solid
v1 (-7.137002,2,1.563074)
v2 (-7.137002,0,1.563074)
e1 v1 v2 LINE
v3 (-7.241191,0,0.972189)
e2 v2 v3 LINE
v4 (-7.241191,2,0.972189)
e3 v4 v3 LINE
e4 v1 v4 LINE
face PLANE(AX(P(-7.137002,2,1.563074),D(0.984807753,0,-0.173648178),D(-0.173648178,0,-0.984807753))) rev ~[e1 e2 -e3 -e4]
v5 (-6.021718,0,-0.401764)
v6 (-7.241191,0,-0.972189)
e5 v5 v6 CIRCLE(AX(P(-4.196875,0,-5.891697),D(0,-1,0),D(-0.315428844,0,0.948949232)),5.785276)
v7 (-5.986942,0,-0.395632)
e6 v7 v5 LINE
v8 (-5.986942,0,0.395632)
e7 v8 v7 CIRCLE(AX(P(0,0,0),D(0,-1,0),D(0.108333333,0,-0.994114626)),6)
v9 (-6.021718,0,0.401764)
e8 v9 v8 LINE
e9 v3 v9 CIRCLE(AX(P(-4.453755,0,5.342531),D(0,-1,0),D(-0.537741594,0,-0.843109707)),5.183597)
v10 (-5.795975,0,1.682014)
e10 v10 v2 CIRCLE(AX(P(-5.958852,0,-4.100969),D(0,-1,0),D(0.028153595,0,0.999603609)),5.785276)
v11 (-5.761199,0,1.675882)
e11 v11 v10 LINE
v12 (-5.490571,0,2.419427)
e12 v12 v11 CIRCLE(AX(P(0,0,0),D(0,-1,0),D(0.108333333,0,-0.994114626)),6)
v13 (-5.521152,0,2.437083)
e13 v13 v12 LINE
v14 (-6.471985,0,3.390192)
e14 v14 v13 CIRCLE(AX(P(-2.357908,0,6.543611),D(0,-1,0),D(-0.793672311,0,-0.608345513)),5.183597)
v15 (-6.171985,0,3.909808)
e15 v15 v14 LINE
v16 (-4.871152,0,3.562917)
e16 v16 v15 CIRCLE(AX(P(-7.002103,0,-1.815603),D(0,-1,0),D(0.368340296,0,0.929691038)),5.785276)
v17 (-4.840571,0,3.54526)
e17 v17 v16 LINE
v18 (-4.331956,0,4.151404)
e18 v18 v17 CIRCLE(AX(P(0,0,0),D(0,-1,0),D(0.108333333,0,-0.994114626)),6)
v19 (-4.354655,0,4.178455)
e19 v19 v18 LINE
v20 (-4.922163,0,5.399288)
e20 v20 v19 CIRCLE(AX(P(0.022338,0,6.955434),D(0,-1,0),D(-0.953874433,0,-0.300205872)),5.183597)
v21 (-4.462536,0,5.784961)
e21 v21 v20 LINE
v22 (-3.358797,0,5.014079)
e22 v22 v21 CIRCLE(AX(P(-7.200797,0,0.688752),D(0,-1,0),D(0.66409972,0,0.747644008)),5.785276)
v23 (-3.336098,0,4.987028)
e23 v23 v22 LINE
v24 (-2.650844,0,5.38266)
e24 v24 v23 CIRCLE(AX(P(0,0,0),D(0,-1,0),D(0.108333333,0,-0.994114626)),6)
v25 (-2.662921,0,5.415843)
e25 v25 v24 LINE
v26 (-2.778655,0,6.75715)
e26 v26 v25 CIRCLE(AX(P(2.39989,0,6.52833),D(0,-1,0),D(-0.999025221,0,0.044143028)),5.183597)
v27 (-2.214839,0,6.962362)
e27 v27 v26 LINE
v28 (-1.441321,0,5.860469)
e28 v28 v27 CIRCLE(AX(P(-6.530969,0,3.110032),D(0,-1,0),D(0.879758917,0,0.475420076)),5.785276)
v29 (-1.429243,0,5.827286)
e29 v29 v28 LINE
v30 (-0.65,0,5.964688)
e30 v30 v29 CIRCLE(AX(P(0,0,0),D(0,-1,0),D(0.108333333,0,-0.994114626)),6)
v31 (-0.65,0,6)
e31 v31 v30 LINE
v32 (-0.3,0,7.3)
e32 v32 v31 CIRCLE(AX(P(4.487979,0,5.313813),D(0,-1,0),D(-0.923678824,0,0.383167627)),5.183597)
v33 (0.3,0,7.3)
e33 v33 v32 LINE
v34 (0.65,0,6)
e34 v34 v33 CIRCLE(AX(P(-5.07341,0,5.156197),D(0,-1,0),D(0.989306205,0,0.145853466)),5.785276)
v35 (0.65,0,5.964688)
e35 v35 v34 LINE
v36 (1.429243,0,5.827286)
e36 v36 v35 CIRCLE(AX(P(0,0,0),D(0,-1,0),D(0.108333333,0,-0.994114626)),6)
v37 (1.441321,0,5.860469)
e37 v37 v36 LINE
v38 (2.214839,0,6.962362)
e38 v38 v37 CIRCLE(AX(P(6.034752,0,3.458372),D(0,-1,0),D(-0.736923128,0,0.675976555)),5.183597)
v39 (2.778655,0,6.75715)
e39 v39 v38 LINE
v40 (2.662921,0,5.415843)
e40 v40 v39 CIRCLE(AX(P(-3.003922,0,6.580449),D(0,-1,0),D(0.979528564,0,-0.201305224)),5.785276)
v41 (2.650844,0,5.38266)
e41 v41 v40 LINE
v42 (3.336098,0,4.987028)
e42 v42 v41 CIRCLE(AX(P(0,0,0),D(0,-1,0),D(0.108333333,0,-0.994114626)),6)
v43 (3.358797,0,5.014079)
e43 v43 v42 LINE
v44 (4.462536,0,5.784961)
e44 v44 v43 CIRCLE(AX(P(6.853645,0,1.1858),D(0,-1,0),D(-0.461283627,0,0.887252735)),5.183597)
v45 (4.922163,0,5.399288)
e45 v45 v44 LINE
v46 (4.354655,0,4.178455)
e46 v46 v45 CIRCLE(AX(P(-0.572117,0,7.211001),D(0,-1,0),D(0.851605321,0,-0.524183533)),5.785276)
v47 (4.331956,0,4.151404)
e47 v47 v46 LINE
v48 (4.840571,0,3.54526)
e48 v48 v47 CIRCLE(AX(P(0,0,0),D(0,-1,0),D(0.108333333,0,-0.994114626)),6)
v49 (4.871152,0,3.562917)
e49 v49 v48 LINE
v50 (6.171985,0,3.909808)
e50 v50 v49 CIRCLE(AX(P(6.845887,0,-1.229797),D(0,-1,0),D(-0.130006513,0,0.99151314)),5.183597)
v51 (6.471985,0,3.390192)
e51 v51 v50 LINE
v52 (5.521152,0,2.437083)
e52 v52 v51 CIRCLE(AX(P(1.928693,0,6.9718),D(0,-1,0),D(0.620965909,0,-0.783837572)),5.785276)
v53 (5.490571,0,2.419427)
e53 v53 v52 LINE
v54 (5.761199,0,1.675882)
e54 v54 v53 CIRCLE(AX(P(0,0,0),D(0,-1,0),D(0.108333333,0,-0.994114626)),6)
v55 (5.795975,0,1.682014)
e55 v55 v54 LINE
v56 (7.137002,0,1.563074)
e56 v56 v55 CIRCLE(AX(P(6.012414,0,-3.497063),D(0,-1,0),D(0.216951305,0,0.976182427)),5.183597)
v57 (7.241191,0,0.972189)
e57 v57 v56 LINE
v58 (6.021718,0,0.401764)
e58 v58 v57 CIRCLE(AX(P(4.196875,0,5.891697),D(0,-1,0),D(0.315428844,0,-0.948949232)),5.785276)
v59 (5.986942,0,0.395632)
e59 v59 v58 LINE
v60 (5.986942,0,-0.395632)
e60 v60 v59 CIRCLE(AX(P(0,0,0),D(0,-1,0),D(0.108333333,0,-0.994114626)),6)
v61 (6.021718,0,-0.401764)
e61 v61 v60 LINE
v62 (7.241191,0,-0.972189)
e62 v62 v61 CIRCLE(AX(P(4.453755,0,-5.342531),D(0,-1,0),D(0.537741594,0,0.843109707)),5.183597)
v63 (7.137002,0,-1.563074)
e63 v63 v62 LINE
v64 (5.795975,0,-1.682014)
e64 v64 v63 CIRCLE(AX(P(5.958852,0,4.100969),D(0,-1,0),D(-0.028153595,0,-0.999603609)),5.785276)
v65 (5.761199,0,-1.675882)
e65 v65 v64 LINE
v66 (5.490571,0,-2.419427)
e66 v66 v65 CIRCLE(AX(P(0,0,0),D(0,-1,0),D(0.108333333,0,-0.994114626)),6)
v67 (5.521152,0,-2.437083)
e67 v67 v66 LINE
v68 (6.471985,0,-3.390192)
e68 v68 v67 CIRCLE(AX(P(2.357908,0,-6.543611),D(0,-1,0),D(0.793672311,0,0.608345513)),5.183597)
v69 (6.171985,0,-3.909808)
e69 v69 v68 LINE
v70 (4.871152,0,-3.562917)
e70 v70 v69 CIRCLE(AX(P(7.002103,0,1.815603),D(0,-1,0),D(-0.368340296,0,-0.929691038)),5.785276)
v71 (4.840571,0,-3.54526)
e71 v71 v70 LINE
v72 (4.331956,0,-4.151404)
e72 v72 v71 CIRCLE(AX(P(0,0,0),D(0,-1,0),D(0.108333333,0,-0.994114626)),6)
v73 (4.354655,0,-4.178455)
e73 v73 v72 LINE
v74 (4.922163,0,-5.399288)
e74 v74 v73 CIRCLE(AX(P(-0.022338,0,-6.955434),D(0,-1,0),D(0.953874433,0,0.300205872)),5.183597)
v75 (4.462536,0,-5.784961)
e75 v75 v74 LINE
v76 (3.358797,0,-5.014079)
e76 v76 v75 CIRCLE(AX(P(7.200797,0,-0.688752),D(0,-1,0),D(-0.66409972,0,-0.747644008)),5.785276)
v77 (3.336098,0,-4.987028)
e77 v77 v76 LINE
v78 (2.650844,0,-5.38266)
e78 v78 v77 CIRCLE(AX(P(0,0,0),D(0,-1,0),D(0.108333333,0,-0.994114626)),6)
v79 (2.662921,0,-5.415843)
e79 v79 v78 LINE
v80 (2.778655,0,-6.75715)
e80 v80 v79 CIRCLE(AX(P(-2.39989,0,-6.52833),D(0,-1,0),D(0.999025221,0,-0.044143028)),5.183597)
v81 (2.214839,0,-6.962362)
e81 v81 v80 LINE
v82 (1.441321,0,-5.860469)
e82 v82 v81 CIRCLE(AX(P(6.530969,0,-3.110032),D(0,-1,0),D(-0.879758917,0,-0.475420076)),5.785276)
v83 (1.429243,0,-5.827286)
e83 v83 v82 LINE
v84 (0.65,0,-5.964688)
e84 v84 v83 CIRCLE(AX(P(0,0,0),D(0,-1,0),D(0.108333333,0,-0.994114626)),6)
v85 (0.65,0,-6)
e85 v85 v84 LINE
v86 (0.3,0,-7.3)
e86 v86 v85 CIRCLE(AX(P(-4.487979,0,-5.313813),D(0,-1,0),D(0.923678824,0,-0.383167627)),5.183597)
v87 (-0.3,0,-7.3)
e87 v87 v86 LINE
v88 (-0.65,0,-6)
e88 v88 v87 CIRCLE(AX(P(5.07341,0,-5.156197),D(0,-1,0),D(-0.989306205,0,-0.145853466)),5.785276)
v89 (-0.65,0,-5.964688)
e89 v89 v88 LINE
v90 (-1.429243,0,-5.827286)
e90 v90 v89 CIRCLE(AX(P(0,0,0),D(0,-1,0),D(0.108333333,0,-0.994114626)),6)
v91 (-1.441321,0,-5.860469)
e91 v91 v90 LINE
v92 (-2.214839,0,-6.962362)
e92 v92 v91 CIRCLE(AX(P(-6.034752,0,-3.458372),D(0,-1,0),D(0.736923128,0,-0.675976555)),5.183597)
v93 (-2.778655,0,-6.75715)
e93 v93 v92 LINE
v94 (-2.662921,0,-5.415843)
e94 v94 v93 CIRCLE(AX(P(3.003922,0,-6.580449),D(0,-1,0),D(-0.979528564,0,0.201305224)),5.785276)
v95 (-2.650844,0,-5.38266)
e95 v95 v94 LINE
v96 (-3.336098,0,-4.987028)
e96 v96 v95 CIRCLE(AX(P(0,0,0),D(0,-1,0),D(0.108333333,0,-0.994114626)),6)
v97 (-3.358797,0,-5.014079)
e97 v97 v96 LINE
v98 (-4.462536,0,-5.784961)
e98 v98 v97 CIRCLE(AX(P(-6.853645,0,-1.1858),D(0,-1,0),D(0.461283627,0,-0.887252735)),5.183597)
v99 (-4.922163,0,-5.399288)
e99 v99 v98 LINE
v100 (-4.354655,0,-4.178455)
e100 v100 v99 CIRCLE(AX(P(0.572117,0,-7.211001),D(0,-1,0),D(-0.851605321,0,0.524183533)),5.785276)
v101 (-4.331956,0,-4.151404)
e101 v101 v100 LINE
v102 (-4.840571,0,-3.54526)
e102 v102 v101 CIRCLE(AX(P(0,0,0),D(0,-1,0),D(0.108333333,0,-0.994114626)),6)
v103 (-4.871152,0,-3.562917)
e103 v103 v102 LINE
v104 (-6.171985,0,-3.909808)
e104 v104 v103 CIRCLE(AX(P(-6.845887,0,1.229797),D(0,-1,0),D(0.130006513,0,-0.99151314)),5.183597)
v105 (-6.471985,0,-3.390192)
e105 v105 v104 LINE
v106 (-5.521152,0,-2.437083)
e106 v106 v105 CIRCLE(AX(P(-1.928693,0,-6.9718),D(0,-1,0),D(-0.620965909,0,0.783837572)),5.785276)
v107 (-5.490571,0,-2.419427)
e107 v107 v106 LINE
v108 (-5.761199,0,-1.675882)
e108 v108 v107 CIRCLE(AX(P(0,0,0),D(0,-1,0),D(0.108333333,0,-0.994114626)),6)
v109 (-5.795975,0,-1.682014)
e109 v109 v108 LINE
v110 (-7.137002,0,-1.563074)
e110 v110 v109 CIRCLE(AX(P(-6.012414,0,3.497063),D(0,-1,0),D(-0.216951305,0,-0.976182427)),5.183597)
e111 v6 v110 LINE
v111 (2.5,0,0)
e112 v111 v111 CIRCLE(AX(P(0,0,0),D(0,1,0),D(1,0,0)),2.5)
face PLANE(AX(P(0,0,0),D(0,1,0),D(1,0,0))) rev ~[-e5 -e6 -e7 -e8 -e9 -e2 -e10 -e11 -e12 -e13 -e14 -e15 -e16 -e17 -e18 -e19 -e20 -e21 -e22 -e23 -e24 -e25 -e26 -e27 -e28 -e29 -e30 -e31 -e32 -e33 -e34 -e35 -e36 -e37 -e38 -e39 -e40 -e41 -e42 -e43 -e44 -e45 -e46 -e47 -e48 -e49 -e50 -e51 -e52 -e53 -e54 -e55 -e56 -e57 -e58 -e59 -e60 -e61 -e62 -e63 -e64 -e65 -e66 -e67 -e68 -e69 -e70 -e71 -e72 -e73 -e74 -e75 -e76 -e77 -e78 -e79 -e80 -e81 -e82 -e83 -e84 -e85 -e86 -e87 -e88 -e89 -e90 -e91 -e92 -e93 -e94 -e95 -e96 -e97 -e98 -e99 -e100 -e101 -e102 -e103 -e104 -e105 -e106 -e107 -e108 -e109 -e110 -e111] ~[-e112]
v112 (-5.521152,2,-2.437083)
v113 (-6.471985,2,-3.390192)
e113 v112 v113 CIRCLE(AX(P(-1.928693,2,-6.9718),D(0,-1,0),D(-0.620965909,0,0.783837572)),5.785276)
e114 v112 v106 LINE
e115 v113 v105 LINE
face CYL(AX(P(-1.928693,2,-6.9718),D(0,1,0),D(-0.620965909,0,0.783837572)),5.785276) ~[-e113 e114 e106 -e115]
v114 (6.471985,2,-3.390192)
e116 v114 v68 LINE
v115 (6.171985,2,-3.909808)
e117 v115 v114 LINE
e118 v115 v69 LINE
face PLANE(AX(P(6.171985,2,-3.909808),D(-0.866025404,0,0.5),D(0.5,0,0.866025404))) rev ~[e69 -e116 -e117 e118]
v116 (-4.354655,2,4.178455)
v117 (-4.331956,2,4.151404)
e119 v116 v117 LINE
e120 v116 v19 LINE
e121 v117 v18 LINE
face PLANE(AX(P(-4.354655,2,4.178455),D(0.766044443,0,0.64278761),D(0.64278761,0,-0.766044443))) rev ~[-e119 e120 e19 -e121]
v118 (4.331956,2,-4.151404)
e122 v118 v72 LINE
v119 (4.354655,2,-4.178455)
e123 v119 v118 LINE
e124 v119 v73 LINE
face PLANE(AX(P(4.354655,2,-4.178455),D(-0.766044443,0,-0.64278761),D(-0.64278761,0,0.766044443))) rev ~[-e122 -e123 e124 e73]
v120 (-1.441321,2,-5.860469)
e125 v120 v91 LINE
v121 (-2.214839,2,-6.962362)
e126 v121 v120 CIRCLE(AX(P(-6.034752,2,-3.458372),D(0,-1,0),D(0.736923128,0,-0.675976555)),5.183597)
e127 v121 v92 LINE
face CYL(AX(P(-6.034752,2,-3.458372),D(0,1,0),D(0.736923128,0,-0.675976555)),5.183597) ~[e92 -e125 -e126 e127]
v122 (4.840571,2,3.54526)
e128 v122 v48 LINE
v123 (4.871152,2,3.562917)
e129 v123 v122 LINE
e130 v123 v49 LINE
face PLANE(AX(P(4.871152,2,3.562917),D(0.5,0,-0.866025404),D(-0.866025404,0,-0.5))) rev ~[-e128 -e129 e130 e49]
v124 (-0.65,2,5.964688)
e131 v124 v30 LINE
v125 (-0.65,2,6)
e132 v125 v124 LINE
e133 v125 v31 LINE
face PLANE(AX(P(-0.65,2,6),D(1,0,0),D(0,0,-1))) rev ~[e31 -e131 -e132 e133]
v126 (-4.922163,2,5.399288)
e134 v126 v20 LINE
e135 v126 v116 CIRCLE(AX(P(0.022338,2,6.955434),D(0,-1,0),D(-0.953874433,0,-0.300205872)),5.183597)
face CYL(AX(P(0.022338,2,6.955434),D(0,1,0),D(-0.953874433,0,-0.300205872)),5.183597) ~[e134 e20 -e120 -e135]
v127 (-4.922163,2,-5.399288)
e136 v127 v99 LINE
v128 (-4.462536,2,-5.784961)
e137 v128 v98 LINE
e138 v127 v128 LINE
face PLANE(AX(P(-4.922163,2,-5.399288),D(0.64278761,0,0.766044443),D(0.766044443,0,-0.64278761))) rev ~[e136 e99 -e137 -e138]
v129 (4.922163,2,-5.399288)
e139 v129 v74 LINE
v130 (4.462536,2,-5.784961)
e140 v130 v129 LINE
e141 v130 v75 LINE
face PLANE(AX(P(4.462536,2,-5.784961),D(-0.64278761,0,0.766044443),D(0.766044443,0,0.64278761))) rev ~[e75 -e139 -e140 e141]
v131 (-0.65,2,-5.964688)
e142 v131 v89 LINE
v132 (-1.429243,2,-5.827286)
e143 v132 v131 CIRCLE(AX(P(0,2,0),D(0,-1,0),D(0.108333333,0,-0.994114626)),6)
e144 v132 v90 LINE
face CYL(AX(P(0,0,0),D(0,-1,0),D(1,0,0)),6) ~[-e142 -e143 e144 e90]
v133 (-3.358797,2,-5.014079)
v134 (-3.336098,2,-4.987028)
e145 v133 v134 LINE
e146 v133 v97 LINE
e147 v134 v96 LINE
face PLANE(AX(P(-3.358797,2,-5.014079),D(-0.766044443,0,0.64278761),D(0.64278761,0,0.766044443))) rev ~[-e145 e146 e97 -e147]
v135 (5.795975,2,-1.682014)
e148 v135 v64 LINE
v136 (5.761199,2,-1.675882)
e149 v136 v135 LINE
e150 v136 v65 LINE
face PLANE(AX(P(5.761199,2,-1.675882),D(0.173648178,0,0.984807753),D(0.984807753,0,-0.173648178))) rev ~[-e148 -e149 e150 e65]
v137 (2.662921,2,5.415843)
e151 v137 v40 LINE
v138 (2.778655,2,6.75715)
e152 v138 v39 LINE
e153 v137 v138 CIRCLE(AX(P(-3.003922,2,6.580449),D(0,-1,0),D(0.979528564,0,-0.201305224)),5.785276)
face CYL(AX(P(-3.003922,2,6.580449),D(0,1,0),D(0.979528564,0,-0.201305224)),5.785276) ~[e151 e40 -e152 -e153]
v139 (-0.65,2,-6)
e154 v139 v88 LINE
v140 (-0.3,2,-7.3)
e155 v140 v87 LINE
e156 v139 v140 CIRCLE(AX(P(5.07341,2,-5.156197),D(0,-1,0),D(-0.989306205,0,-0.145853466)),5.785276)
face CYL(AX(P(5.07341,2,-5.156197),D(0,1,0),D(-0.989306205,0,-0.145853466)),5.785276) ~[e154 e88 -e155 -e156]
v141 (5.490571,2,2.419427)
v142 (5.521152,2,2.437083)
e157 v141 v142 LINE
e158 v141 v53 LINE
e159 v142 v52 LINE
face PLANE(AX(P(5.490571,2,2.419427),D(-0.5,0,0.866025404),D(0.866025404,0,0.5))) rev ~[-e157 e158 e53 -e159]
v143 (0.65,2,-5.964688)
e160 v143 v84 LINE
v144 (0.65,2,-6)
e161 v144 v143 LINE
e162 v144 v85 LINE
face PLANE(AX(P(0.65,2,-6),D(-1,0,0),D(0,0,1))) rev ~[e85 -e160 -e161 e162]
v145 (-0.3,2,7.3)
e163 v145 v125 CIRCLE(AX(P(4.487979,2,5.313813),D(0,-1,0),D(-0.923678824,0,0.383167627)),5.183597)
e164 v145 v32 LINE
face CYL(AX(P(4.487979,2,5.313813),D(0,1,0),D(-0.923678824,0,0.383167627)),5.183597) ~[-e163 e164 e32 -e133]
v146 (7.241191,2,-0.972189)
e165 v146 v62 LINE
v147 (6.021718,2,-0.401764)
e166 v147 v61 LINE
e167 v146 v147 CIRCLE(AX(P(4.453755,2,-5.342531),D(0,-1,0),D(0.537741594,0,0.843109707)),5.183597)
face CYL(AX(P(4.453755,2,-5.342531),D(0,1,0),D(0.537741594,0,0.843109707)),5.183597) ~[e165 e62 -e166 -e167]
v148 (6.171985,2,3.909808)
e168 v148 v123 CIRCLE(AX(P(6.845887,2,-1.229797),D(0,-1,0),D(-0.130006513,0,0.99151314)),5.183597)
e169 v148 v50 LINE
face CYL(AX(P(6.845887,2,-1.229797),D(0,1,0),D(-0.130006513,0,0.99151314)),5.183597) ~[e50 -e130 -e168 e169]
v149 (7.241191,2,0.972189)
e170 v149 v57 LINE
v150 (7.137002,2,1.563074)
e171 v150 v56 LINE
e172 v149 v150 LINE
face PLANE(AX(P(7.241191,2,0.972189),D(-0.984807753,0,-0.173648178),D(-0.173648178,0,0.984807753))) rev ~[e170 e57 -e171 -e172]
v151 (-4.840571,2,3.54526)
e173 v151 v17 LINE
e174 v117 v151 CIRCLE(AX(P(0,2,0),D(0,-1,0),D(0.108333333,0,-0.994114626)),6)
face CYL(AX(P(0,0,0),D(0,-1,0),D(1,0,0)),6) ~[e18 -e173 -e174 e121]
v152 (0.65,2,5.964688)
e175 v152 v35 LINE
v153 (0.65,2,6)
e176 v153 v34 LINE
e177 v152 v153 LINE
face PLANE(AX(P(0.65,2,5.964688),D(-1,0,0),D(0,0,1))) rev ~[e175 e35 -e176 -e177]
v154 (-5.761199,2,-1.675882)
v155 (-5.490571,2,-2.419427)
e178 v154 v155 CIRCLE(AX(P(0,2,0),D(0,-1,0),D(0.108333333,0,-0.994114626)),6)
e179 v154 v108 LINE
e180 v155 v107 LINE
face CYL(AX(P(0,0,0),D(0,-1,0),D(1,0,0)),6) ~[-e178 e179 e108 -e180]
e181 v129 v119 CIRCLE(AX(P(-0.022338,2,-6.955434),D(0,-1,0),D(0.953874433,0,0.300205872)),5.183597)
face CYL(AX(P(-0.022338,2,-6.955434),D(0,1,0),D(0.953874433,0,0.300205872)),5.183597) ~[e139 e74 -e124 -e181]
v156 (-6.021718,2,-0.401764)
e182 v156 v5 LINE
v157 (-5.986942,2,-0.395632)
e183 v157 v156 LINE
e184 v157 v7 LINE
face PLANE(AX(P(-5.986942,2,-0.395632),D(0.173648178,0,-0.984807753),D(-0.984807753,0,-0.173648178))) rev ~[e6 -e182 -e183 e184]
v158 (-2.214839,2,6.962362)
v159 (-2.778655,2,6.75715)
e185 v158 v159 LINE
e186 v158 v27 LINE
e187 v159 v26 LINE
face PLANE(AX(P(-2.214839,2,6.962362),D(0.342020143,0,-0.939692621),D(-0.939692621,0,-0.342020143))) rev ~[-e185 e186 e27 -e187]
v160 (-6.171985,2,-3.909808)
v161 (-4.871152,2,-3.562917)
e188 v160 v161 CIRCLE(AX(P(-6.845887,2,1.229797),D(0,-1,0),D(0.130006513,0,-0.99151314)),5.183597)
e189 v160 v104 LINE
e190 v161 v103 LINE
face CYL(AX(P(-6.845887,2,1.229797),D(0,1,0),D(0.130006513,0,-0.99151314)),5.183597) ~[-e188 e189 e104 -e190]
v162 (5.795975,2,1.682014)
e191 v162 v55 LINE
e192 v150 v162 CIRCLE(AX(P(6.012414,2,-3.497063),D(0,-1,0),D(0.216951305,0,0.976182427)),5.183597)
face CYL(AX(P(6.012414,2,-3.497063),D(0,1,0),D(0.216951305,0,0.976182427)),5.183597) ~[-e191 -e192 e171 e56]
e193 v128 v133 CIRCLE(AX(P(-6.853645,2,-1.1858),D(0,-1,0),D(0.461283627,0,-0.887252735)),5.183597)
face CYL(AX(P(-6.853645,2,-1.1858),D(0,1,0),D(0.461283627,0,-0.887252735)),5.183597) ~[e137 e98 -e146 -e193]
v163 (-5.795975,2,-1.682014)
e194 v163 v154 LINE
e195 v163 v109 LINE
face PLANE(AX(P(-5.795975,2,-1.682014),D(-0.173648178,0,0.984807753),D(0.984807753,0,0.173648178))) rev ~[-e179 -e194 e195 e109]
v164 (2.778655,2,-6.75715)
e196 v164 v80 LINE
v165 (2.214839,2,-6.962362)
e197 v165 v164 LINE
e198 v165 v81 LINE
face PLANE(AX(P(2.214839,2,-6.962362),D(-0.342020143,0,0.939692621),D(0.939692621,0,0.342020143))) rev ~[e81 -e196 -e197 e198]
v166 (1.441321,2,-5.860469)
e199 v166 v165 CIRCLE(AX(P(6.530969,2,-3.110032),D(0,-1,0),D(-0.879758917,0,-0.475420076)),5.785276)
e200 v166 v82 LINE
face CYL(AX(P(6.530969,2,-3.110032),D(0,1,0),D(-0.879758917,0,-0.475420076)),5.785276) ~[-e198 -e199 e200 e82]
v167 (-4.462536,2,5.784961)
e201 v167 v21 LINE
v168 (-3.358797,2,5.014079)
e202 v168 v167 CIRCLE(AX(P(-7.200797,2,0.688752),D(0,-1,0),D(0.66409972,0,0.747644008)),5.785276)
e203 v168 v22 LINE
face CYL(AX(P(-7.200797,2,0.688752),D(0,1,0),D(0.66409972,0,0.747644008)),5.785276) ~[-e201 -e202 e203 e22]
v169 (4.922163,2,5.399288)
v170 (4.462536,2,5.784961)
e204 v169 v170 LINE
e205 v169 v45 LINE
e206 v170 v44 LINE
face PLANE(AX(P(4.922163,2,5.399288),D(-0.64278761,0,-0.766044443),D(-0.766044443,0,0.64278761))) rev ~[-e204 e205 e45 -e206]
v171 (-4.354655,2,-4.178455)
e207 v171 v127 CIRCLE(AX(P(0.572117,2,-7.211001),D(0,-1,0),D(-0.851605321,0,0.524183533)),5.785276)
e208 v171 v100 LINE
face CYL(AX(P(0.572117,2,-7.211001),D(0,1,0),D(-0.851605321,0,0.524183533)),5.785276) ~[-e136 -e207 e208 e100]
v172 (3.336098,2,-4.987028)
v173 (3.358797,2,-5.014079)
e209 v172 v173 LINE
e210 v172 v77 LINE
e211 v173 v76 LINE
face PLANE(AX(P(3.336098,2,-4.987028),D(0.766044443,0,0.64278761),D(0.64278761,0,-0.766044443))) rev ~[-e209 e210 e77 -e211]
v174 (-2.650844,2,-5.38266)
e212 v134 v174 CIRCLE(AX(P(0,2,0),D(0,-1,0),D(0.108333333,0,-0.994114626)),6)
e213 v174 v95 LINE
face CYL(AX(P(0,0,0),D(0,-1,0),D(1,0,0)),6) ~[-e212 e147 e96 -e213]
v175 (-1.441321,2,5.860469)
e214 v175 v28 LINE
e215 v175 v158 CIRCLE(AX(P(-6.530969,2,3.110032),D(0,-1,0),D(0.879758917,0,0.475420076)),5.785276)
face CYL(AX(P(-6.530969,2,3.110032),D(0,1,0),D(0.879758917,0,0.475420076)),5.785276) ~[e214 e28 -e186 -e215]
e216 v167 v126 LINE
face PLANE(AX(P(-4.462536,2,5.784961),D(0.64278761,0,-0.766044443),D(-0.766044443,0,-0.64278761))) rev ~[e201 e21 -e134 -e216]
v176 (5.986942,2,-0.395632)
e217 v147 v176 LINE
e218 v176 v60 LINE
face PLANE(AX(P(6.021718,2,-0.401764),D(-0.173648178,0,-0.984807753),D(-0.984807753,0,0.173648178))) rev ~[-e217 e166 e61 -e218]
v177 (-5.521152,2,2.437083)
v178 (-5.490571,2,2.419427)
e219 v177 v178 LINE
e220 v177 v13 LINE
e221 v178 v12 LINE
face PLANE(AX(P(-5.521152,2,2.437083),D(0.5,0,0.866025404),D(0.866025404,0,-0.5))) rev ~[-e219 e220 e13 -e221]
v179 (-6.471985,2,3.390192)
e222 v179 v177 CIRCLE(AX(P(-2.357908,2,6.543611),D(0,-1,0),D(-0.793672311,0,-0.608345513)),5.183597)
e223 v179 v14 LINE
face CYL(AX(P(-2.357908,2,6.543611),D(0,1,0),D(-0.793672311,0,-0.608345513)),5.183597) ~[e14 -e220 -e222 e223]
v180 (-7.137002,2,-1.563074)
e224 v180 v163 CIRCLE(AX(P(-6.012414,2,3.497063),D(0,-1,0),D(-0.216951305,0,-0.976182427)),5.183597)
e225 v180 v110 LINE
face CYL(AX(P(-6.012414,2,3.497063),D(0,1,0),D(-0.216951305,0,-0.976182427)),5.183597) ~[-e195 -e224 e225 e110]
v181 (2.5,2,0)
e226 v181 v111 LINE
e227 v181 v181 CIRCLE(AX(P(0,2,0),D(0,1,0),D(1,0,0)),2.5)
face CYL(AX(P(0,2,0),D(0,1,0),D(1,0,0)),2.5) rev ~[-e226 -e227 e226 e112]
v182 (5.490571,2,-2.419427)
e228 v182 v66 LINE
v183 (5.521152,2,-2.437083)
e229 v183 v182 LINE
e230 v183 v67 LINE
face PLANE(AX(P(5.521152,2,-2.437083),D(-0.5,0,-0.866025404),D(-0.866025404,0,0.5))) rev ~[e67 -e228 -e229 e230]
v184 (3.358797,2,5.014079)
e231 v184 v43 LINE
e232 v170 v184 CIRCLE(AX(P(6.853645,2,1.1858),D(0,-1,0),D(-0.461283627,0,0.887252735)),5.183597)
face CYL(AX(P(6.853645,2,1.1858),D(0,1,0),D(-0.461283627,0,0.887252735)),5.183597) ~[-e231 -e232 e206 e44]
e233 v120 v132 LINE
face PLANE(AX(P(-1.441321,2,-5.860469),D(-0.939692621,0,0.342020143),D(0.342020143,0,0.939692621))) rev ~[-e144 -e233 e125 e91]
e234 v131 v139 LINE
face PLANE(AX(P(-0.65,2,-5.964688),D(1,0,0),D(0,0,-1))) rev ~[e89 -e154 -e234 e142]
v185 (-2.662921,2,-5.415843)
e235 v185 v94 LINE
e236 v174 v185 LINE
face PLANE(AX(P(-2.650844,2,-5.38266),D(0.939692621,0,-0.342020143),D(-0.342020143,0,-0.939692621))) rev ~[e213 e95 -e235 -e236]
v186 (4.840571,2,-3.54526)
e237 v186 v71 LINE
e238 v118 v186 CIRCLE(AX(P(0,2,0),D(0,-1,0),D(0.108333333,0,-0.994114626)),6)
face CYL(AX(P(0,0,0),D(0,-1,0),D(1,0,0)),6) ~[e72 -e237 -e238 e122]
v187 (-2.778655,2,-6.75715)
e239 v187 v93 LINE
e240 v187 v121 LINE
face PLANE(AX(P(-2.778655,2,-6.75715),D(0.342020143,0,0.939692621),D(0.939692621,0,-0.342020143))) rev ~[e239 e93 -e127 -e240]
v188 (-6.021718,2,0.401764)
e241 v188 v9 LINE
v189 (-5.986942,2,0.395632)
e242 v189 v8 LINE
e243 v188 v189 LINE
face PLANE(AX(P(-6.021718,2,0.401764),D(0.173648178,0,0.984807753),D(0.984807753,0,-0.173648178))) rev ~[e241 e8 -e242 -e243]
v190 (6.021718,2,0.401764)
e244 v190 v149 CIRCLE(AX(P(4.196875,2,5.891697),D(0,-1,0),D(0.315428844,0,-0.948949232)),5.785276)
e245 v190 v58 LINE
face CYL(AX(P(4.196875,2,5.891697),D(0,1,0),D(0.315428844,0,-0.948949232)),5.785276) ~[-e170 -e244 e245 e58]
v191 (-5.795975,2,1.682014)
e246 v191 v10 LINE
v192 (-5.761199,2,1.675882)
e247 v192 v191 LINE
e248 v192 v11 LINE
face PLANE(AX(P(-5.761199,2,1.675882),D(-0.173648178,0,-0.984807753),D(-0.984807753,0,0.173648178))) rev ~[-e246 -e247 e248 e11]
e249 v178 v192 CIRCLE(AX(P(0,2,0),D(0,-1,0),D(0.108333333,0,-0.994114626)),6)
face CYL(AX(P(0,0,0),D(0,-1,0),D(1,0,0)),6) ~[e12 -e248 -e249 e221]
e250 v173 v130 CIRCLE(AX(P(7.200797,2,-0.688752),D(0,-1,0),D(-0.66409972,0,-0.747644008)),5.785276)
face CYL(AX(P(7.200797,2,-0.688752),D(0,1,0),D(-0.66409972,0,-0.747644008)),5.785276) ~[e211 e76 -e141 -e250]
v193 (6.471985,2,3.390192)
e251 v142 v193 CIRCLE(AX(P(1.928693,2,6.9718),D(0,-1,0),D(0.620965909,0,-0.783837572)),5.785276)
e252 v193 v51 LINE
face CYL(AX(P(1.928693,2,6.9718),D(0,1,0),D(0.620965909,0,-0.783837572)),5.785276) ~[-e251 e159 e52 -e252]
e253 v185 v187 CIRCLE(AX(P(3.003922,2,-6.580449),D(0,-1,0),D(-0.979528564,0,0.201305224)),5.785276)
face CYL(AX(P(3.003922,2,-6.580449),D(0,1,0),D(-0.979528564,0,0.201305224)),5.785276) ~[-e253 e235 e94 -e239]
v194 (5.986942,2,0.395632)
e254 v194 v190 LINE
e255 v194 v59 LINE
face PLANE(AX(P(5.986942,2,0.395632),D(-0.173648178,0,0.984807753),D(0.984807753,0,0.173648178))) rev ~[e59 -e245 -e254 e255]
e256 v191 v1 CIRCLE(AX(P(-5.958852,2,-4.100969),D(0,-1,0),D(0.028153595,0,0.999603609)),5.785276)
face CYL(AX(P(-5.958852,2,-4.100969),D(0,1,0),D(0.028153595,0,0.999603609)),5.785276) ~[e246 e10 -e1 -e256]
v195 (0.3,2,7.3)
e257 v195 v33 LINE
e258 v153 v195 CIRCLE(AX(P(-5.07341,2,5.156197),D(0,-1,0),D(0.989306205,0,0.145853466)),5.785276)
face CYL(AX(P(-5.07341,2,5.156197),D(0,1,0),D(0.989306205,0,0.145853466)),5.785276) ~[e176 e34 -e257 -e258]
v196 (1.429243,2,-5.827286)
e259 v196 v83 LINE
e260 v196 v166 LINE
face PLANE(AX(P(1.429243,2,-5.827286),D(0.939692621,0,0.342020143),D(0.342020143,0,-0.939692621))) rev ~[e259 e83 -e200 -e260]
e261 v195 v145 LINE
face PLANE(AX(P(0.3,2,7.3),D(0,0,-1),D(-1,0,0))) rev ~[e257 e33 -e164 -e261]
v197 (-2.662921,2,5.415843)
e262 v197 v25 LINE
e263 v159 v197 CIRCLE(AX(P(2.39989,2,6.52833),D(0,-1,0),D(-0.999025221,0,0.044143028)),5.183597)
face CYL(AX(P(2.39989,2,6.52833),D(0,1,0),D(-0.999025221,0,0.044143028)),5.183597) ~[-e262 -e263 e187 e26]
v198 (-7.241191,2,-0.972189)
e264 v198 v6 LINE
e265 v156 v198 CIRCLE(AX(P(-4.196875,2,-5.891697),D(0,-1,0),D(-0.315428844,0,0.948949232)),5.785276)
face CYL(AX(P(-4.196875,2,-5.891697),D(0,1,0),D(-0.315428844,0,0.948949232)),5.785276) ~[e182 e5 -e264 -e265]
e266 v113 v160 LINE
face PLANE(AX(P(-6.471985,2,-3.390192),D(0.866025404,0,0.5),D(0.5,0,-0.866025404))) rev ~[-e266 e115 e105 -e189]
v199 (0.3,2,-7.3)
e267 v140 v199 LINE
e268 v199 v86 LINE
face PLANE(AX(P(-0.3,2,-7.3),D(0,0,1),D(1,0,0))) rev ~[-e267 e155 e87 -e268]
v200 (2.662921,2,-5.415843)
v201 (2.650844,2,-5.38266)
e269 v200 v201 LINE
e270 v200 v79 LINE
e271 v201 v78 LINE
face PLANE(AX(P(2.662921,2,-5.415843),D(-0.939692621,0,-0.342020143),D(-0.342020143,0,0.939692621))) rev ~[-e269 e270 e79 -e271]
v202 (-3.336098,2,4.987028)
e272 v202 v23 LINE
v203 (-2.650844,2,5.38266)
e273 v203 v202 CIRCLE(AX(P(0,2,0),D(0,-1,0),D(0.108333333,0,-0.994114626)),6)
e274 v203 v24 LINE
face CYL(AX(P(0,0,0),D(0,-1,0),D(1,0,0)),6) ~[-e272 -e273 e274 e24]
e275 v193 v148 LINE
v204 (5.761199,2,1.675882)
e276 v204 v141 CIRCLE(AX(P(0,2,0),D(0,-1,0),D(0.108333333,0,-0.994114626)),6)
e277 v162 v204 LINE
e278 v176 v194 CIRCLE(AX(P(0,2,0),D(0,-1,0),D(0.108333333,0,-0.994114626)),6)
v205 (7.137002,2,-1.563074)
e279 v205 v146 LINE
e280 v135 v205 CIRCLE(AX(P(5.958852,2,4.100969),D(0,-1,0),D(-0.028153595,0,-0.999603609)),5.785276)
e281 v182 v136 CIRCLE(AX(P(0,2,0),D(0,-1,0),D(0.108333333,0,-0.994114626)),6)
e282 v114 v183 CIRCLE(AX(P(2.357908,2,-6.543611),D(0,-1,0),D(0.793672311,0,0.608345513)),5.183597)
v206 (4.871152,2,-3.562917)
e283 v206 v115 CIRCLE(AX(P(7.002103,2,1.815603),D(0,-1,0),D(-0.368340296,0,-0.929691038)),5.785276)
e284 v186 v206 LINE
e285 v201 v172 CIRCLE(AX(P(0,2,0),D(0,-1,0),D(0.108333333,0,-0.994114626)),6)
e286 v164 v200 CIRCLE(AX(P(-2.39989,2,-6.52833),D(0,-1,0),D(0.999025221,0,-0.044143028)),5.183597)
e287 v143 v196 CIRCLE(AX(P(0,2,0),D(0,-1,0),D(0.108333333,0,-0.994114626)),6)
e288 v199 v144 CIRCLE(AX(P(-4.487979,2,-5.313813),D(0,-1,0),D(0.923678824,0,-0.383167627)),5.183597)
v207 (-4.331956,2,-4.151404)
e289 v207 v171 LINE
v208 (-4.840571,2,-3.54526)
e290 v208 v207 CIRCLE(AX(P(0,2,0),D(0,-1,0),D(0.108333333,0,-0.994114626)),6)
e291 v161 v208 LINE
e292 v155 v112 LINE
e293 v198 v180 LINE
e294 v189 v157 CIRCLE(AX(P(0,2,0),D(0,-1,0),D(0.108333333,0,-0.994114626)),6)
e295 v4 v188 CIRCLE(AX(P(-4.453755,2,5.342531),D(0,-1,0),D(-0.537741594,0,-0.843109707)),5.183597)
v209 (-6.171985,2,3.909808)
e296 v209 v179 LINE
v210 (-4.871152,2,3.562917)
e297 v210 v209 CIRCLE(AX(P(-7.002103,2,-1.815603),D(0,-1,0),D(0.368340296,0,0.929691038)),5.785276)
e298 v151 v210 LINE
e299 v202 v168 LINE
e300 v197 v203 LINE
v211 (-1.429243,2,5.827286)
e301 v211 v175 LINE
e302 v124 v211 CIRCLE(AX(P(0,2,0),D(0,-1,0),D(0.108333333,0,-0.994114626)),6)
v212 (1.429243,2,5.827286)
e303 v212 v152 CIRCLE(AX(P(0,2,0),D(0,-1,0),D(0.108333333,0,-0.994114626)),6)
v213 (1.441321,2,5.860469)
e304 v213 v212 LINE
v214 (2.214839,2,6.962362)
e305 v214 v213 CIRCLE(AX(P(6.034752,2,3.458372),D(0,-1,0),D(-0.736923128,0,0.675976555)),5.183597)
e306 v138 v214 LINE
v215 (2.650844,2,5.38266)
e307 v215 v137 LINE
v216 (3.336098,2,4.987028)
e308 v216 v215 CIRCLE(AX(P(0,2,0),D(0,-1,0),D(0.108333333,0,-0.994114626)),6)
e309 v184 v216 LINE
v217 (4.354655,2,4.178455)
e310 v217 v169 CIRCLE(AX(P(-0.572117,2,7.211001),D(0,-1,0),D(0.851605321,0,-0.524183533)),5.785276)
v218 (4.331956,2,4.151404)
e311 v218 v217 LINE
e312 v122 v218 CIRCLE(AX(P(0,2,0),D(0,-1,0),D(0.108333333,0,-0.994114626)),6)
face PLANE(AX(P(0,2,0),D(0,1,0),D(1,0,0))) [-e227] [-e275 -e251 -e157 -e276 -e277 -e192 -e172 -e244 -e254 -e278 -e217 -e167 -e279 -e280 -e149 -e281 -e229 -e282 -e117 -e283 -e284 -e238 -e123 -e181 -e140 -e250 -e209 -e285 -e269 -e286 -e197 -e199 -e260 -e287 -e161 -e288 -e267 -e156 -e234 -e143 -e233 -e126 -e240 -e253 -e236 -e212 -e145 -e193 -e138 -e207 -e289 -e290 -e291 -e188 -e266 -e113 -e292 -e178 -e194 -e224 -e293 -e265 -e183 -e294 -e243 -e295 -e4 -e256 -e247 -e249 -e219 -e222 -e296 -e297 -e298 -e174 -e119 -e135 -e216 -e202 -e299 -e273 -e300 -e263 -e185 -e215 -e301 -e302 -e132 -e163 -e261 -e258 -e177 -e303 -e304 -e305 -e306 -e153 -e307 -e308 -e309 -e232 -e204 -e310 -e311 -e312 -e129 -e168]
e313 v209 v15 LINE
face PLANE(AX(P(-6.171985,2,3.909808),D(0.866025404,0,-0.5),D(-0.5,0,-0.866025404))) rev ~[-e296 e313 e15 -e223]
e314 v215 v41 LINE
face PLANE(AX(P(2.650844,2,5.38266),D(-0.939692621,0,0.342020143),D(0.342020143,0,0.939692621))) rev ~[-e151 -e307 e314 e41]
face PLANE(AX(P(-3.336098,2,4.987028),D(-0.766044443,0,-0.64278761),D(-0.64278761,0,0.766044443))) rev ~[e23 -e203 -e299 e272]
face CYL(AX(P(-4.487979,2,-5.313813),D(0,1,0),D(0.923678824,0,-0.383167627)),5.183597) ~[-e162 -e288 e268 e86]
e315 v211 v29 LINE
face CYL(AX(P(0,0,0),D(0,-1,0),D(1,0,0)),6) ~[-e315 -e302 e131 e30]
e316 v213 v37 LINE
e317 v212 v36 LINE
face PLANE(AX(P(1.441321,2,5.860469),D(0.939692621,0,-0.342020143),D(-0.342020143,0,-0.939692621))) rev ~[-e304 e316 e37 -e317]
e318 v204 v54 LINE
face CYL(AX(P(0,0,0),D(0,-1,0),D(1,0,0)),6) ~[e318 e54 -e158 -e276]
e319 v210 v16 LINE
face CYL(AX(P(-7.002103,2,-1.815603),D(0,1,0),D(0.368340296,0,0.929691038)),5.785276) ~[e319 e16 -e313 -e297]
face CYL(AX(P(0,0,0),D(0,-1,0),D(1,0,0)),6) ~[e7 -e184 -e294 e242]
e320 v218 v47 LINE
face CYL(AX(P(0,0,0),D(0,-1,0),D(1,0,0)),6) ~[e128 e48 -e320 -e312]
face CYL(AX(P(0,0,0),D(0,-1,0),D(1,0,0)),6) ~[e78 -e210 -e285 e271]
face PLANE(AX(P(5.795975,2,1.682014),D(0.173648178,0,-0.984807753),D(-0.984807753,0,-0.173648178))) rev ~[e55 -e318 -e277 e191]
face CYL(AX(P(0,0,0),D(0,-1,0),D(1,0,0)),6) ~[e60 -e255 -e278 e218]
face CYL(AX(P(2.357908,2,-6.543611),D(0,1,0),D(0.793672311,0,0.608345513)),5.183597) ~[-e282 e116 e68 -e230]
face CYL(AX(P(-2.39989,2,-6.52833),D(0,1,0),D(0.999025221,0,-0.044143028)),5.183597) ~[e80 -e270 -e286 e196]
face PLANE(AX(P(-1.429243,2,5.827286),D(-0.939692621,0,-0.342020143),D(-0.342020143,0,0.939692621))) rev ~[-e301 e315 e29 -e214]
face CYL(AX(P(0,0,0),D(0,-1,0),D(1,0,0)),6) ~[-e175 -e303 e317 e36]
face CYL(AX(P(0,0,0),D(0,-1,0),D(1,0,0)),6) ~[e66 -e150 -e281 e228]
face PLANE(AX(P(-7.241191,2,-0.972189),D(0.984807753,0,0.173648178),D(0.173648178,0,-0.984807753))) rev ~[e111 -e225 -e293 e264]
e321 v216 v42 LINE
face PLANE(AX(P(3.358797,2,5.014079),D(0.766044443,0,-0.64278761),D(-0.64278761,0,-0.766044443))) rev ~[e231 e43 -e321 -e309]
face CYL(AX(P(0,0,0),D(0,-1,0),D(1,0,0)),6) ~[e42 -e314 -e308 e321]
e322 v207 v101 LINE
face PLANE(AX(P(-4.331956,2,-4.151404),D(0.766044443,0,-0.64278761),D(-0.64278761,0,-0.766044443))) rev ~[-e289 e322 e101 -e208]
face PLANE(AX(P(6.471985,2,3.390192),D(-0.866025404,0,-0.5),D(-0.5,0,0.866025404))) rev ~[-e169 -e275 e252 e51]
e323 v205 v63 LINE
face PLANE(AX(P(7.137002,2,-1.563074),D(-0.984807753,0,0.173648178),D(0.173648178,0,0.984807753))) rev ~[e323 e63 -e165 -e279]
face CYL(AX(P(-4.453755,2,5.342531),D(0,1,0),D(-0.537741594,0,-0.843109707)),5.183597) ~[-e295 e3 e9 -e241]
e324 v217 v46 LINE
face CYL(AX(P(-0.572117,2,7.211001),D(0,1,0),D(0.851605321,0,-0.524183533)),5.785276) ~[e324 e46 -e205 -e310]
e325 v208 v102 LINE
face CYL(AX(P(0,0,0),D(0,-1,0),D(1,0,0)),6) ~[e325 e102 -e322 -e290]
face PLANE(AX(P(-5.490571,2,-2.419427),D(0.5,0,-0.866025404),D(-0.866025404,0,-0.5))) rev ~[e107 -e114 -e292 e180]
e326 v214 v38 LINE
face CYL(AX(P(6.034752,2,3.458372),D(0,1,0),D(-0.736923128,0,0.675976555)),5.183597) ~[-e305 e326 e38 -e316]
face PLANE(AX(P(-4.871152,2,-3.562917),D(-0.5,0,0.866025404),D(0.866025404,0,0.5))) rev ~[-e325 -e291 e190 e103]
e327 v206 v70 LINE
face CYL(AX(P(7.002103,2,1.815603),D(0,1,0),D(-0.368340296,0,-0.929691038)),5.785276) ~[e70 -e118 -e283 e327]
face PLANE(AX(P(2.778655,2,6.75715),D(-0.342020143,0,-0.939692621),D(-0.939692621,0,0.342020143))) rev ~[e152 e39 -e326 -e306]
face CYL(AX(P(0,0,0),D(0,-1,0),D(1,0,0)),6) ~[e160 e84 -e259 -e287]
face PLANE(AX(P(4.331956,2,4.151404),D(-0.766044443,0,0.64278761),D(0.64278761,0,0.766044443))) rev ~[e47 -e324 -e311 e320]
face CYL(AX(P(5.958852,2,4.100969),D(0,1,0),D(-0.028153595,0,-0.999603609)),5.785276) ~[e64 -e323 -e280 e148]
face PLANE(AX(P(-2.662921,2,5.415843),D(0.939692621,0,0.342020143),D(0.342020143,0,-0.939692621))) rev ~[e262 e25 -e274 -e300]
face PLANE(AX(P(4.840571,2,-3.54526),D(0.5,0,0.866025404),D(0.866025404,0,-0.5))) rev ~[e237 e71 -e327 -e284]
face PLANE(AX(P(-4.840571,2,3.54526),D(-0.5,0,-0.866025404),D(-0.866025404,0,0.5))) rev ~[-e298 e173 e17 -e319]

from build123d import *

# Parameters (mm, degrees)
SKETCH1_R                = 6
BOSS_EXTRUDE1_DEPTH      = 2
SKETCH2_R                = 1.25
CUT_EXTRUDE1_DEPTH       = 3
CUT_EXTRUDE1_DEPTH_BACK  = 4
SKETCH3_R                = 2
SKETCH3_R_2              = 0.75
BOSS_EXTRUDE2_DEPTH      = 0.2
BOSS_EXTRUDE2_DEPTH_BACK = 2.2
BOSS_EXTRUDE3_DEPTH      = 2
CIRPATTERN1_COUNT        = 18
SKETCH5_R                = 2.5
CUT_EXTRUDE2_DEPTH       = 3
CUT_EXTRUDE2_DEPTH_BACK  = 5


with BuildPart() as part:
    # Sketch1 → Boss-Extrude1 (new body)
    with BuildSketch(Plane(origin=(0, 0, 0), x_dir=(1, 0, 0), z_dir=(0, 1, 0))):
        Circle(SKETCH1_R)
    extrude(amount=BOSS_EXTRUDE1_DEPTH)

    # Sketch2 → Cut-Extrude1 (cut, two sides)
    with BuildSketch(Plane(origin=(0, 2, 0), x_dir=(1, 0, 0), z_dir=(0, 1, 0))) as cut_extrude1_sk:
        Circle(SKETCH2_R)
    extrude(amount=CUT_EXTRUDE1_DEPTH, mode=Mode.SUBTRACT)
    extrude(cut_extrude1_sk.sketch, amount=-CUT_EXTRUDE1_DEPTH_BACK, mode=Mode.SUBTRACT)

    # Sketch3 → Boss-Extrude2 (add, two sides)
    with BuildSketch(Plane(origin=(0, 2, 0), x_dir=(1, 0, 0), z_dir=(0, 1, 0))) as boss_extrude2_sk:
        Circle(SKETCH3_R)
        Circle(SKETCH3_R_2, mode=Mode.SUBTRACT)
    extrude(amount=BOSS_EXTRUDE2_DEPTH)
    extrude(boss_extrude2_sk.sketch, amount=-BOSS_EXTRUDE2_DEPTH_BACK)

    # Sketch4 → Boss-Extrude3 (add)
    with BuildSketch(Plane(origin=(0, 2, 0), x_dir=(1, 0, 0), z_dir=(0, 1, 0))):
        with BuildLine():
            Line((-0.3, 7.3), (0.3, 7.3))
            ThreePointArc((0.3, 7.3), (0.517384179, 6.661411125), (0.65, 6))
            Line((0.65, 6), (0.65, 5.964687754))
            ThreePointArc((0.65, 5.964687754), (0, 6), (-0.65, 5.964687754))
            Line((-0.65, 5.964687754), (-0.65, 6))
            ThreePointArc((-0.65, 6), (-0.512944228, 6.660215754), (-0.3, 7.3))
        make_face()
    boss_extrude3 = extrude(amount=-BOSS_EXTRUDE3_DEPTH)

    # CirPattern1: Boss-Extrude3 ×18 about axis
    cirpattern1_axis = Axis((0, 0, 0), (0, 1, 0))
    for i in range(1, CIRPATTERN1_COUNT):
        add(boss_extrude3.rotate(cirpattern1_axis, i * 360 / CIRPATTERN1_COUNT))

    # Sketch5 → Cut-Extrude2 (cut, two sides)
    with BuildSketch(Plane(origin=(0, 2, 0), x_dir=(1, 0, 0), z_dir=(0, 1, 0))) as cut_extrude2_sk:
        Circle(SKETCH5_R)
    extrude(amount=CUT_EXTRUDE2_DEPTH, mode=Mode.SUBTRACT)
    extrude(cut_extrude2_sk.sketch, amount=-CUT_EXTRUDE2_DEPTH_BACK, mode=Mode.SUBTRACT)


solid = part.part
